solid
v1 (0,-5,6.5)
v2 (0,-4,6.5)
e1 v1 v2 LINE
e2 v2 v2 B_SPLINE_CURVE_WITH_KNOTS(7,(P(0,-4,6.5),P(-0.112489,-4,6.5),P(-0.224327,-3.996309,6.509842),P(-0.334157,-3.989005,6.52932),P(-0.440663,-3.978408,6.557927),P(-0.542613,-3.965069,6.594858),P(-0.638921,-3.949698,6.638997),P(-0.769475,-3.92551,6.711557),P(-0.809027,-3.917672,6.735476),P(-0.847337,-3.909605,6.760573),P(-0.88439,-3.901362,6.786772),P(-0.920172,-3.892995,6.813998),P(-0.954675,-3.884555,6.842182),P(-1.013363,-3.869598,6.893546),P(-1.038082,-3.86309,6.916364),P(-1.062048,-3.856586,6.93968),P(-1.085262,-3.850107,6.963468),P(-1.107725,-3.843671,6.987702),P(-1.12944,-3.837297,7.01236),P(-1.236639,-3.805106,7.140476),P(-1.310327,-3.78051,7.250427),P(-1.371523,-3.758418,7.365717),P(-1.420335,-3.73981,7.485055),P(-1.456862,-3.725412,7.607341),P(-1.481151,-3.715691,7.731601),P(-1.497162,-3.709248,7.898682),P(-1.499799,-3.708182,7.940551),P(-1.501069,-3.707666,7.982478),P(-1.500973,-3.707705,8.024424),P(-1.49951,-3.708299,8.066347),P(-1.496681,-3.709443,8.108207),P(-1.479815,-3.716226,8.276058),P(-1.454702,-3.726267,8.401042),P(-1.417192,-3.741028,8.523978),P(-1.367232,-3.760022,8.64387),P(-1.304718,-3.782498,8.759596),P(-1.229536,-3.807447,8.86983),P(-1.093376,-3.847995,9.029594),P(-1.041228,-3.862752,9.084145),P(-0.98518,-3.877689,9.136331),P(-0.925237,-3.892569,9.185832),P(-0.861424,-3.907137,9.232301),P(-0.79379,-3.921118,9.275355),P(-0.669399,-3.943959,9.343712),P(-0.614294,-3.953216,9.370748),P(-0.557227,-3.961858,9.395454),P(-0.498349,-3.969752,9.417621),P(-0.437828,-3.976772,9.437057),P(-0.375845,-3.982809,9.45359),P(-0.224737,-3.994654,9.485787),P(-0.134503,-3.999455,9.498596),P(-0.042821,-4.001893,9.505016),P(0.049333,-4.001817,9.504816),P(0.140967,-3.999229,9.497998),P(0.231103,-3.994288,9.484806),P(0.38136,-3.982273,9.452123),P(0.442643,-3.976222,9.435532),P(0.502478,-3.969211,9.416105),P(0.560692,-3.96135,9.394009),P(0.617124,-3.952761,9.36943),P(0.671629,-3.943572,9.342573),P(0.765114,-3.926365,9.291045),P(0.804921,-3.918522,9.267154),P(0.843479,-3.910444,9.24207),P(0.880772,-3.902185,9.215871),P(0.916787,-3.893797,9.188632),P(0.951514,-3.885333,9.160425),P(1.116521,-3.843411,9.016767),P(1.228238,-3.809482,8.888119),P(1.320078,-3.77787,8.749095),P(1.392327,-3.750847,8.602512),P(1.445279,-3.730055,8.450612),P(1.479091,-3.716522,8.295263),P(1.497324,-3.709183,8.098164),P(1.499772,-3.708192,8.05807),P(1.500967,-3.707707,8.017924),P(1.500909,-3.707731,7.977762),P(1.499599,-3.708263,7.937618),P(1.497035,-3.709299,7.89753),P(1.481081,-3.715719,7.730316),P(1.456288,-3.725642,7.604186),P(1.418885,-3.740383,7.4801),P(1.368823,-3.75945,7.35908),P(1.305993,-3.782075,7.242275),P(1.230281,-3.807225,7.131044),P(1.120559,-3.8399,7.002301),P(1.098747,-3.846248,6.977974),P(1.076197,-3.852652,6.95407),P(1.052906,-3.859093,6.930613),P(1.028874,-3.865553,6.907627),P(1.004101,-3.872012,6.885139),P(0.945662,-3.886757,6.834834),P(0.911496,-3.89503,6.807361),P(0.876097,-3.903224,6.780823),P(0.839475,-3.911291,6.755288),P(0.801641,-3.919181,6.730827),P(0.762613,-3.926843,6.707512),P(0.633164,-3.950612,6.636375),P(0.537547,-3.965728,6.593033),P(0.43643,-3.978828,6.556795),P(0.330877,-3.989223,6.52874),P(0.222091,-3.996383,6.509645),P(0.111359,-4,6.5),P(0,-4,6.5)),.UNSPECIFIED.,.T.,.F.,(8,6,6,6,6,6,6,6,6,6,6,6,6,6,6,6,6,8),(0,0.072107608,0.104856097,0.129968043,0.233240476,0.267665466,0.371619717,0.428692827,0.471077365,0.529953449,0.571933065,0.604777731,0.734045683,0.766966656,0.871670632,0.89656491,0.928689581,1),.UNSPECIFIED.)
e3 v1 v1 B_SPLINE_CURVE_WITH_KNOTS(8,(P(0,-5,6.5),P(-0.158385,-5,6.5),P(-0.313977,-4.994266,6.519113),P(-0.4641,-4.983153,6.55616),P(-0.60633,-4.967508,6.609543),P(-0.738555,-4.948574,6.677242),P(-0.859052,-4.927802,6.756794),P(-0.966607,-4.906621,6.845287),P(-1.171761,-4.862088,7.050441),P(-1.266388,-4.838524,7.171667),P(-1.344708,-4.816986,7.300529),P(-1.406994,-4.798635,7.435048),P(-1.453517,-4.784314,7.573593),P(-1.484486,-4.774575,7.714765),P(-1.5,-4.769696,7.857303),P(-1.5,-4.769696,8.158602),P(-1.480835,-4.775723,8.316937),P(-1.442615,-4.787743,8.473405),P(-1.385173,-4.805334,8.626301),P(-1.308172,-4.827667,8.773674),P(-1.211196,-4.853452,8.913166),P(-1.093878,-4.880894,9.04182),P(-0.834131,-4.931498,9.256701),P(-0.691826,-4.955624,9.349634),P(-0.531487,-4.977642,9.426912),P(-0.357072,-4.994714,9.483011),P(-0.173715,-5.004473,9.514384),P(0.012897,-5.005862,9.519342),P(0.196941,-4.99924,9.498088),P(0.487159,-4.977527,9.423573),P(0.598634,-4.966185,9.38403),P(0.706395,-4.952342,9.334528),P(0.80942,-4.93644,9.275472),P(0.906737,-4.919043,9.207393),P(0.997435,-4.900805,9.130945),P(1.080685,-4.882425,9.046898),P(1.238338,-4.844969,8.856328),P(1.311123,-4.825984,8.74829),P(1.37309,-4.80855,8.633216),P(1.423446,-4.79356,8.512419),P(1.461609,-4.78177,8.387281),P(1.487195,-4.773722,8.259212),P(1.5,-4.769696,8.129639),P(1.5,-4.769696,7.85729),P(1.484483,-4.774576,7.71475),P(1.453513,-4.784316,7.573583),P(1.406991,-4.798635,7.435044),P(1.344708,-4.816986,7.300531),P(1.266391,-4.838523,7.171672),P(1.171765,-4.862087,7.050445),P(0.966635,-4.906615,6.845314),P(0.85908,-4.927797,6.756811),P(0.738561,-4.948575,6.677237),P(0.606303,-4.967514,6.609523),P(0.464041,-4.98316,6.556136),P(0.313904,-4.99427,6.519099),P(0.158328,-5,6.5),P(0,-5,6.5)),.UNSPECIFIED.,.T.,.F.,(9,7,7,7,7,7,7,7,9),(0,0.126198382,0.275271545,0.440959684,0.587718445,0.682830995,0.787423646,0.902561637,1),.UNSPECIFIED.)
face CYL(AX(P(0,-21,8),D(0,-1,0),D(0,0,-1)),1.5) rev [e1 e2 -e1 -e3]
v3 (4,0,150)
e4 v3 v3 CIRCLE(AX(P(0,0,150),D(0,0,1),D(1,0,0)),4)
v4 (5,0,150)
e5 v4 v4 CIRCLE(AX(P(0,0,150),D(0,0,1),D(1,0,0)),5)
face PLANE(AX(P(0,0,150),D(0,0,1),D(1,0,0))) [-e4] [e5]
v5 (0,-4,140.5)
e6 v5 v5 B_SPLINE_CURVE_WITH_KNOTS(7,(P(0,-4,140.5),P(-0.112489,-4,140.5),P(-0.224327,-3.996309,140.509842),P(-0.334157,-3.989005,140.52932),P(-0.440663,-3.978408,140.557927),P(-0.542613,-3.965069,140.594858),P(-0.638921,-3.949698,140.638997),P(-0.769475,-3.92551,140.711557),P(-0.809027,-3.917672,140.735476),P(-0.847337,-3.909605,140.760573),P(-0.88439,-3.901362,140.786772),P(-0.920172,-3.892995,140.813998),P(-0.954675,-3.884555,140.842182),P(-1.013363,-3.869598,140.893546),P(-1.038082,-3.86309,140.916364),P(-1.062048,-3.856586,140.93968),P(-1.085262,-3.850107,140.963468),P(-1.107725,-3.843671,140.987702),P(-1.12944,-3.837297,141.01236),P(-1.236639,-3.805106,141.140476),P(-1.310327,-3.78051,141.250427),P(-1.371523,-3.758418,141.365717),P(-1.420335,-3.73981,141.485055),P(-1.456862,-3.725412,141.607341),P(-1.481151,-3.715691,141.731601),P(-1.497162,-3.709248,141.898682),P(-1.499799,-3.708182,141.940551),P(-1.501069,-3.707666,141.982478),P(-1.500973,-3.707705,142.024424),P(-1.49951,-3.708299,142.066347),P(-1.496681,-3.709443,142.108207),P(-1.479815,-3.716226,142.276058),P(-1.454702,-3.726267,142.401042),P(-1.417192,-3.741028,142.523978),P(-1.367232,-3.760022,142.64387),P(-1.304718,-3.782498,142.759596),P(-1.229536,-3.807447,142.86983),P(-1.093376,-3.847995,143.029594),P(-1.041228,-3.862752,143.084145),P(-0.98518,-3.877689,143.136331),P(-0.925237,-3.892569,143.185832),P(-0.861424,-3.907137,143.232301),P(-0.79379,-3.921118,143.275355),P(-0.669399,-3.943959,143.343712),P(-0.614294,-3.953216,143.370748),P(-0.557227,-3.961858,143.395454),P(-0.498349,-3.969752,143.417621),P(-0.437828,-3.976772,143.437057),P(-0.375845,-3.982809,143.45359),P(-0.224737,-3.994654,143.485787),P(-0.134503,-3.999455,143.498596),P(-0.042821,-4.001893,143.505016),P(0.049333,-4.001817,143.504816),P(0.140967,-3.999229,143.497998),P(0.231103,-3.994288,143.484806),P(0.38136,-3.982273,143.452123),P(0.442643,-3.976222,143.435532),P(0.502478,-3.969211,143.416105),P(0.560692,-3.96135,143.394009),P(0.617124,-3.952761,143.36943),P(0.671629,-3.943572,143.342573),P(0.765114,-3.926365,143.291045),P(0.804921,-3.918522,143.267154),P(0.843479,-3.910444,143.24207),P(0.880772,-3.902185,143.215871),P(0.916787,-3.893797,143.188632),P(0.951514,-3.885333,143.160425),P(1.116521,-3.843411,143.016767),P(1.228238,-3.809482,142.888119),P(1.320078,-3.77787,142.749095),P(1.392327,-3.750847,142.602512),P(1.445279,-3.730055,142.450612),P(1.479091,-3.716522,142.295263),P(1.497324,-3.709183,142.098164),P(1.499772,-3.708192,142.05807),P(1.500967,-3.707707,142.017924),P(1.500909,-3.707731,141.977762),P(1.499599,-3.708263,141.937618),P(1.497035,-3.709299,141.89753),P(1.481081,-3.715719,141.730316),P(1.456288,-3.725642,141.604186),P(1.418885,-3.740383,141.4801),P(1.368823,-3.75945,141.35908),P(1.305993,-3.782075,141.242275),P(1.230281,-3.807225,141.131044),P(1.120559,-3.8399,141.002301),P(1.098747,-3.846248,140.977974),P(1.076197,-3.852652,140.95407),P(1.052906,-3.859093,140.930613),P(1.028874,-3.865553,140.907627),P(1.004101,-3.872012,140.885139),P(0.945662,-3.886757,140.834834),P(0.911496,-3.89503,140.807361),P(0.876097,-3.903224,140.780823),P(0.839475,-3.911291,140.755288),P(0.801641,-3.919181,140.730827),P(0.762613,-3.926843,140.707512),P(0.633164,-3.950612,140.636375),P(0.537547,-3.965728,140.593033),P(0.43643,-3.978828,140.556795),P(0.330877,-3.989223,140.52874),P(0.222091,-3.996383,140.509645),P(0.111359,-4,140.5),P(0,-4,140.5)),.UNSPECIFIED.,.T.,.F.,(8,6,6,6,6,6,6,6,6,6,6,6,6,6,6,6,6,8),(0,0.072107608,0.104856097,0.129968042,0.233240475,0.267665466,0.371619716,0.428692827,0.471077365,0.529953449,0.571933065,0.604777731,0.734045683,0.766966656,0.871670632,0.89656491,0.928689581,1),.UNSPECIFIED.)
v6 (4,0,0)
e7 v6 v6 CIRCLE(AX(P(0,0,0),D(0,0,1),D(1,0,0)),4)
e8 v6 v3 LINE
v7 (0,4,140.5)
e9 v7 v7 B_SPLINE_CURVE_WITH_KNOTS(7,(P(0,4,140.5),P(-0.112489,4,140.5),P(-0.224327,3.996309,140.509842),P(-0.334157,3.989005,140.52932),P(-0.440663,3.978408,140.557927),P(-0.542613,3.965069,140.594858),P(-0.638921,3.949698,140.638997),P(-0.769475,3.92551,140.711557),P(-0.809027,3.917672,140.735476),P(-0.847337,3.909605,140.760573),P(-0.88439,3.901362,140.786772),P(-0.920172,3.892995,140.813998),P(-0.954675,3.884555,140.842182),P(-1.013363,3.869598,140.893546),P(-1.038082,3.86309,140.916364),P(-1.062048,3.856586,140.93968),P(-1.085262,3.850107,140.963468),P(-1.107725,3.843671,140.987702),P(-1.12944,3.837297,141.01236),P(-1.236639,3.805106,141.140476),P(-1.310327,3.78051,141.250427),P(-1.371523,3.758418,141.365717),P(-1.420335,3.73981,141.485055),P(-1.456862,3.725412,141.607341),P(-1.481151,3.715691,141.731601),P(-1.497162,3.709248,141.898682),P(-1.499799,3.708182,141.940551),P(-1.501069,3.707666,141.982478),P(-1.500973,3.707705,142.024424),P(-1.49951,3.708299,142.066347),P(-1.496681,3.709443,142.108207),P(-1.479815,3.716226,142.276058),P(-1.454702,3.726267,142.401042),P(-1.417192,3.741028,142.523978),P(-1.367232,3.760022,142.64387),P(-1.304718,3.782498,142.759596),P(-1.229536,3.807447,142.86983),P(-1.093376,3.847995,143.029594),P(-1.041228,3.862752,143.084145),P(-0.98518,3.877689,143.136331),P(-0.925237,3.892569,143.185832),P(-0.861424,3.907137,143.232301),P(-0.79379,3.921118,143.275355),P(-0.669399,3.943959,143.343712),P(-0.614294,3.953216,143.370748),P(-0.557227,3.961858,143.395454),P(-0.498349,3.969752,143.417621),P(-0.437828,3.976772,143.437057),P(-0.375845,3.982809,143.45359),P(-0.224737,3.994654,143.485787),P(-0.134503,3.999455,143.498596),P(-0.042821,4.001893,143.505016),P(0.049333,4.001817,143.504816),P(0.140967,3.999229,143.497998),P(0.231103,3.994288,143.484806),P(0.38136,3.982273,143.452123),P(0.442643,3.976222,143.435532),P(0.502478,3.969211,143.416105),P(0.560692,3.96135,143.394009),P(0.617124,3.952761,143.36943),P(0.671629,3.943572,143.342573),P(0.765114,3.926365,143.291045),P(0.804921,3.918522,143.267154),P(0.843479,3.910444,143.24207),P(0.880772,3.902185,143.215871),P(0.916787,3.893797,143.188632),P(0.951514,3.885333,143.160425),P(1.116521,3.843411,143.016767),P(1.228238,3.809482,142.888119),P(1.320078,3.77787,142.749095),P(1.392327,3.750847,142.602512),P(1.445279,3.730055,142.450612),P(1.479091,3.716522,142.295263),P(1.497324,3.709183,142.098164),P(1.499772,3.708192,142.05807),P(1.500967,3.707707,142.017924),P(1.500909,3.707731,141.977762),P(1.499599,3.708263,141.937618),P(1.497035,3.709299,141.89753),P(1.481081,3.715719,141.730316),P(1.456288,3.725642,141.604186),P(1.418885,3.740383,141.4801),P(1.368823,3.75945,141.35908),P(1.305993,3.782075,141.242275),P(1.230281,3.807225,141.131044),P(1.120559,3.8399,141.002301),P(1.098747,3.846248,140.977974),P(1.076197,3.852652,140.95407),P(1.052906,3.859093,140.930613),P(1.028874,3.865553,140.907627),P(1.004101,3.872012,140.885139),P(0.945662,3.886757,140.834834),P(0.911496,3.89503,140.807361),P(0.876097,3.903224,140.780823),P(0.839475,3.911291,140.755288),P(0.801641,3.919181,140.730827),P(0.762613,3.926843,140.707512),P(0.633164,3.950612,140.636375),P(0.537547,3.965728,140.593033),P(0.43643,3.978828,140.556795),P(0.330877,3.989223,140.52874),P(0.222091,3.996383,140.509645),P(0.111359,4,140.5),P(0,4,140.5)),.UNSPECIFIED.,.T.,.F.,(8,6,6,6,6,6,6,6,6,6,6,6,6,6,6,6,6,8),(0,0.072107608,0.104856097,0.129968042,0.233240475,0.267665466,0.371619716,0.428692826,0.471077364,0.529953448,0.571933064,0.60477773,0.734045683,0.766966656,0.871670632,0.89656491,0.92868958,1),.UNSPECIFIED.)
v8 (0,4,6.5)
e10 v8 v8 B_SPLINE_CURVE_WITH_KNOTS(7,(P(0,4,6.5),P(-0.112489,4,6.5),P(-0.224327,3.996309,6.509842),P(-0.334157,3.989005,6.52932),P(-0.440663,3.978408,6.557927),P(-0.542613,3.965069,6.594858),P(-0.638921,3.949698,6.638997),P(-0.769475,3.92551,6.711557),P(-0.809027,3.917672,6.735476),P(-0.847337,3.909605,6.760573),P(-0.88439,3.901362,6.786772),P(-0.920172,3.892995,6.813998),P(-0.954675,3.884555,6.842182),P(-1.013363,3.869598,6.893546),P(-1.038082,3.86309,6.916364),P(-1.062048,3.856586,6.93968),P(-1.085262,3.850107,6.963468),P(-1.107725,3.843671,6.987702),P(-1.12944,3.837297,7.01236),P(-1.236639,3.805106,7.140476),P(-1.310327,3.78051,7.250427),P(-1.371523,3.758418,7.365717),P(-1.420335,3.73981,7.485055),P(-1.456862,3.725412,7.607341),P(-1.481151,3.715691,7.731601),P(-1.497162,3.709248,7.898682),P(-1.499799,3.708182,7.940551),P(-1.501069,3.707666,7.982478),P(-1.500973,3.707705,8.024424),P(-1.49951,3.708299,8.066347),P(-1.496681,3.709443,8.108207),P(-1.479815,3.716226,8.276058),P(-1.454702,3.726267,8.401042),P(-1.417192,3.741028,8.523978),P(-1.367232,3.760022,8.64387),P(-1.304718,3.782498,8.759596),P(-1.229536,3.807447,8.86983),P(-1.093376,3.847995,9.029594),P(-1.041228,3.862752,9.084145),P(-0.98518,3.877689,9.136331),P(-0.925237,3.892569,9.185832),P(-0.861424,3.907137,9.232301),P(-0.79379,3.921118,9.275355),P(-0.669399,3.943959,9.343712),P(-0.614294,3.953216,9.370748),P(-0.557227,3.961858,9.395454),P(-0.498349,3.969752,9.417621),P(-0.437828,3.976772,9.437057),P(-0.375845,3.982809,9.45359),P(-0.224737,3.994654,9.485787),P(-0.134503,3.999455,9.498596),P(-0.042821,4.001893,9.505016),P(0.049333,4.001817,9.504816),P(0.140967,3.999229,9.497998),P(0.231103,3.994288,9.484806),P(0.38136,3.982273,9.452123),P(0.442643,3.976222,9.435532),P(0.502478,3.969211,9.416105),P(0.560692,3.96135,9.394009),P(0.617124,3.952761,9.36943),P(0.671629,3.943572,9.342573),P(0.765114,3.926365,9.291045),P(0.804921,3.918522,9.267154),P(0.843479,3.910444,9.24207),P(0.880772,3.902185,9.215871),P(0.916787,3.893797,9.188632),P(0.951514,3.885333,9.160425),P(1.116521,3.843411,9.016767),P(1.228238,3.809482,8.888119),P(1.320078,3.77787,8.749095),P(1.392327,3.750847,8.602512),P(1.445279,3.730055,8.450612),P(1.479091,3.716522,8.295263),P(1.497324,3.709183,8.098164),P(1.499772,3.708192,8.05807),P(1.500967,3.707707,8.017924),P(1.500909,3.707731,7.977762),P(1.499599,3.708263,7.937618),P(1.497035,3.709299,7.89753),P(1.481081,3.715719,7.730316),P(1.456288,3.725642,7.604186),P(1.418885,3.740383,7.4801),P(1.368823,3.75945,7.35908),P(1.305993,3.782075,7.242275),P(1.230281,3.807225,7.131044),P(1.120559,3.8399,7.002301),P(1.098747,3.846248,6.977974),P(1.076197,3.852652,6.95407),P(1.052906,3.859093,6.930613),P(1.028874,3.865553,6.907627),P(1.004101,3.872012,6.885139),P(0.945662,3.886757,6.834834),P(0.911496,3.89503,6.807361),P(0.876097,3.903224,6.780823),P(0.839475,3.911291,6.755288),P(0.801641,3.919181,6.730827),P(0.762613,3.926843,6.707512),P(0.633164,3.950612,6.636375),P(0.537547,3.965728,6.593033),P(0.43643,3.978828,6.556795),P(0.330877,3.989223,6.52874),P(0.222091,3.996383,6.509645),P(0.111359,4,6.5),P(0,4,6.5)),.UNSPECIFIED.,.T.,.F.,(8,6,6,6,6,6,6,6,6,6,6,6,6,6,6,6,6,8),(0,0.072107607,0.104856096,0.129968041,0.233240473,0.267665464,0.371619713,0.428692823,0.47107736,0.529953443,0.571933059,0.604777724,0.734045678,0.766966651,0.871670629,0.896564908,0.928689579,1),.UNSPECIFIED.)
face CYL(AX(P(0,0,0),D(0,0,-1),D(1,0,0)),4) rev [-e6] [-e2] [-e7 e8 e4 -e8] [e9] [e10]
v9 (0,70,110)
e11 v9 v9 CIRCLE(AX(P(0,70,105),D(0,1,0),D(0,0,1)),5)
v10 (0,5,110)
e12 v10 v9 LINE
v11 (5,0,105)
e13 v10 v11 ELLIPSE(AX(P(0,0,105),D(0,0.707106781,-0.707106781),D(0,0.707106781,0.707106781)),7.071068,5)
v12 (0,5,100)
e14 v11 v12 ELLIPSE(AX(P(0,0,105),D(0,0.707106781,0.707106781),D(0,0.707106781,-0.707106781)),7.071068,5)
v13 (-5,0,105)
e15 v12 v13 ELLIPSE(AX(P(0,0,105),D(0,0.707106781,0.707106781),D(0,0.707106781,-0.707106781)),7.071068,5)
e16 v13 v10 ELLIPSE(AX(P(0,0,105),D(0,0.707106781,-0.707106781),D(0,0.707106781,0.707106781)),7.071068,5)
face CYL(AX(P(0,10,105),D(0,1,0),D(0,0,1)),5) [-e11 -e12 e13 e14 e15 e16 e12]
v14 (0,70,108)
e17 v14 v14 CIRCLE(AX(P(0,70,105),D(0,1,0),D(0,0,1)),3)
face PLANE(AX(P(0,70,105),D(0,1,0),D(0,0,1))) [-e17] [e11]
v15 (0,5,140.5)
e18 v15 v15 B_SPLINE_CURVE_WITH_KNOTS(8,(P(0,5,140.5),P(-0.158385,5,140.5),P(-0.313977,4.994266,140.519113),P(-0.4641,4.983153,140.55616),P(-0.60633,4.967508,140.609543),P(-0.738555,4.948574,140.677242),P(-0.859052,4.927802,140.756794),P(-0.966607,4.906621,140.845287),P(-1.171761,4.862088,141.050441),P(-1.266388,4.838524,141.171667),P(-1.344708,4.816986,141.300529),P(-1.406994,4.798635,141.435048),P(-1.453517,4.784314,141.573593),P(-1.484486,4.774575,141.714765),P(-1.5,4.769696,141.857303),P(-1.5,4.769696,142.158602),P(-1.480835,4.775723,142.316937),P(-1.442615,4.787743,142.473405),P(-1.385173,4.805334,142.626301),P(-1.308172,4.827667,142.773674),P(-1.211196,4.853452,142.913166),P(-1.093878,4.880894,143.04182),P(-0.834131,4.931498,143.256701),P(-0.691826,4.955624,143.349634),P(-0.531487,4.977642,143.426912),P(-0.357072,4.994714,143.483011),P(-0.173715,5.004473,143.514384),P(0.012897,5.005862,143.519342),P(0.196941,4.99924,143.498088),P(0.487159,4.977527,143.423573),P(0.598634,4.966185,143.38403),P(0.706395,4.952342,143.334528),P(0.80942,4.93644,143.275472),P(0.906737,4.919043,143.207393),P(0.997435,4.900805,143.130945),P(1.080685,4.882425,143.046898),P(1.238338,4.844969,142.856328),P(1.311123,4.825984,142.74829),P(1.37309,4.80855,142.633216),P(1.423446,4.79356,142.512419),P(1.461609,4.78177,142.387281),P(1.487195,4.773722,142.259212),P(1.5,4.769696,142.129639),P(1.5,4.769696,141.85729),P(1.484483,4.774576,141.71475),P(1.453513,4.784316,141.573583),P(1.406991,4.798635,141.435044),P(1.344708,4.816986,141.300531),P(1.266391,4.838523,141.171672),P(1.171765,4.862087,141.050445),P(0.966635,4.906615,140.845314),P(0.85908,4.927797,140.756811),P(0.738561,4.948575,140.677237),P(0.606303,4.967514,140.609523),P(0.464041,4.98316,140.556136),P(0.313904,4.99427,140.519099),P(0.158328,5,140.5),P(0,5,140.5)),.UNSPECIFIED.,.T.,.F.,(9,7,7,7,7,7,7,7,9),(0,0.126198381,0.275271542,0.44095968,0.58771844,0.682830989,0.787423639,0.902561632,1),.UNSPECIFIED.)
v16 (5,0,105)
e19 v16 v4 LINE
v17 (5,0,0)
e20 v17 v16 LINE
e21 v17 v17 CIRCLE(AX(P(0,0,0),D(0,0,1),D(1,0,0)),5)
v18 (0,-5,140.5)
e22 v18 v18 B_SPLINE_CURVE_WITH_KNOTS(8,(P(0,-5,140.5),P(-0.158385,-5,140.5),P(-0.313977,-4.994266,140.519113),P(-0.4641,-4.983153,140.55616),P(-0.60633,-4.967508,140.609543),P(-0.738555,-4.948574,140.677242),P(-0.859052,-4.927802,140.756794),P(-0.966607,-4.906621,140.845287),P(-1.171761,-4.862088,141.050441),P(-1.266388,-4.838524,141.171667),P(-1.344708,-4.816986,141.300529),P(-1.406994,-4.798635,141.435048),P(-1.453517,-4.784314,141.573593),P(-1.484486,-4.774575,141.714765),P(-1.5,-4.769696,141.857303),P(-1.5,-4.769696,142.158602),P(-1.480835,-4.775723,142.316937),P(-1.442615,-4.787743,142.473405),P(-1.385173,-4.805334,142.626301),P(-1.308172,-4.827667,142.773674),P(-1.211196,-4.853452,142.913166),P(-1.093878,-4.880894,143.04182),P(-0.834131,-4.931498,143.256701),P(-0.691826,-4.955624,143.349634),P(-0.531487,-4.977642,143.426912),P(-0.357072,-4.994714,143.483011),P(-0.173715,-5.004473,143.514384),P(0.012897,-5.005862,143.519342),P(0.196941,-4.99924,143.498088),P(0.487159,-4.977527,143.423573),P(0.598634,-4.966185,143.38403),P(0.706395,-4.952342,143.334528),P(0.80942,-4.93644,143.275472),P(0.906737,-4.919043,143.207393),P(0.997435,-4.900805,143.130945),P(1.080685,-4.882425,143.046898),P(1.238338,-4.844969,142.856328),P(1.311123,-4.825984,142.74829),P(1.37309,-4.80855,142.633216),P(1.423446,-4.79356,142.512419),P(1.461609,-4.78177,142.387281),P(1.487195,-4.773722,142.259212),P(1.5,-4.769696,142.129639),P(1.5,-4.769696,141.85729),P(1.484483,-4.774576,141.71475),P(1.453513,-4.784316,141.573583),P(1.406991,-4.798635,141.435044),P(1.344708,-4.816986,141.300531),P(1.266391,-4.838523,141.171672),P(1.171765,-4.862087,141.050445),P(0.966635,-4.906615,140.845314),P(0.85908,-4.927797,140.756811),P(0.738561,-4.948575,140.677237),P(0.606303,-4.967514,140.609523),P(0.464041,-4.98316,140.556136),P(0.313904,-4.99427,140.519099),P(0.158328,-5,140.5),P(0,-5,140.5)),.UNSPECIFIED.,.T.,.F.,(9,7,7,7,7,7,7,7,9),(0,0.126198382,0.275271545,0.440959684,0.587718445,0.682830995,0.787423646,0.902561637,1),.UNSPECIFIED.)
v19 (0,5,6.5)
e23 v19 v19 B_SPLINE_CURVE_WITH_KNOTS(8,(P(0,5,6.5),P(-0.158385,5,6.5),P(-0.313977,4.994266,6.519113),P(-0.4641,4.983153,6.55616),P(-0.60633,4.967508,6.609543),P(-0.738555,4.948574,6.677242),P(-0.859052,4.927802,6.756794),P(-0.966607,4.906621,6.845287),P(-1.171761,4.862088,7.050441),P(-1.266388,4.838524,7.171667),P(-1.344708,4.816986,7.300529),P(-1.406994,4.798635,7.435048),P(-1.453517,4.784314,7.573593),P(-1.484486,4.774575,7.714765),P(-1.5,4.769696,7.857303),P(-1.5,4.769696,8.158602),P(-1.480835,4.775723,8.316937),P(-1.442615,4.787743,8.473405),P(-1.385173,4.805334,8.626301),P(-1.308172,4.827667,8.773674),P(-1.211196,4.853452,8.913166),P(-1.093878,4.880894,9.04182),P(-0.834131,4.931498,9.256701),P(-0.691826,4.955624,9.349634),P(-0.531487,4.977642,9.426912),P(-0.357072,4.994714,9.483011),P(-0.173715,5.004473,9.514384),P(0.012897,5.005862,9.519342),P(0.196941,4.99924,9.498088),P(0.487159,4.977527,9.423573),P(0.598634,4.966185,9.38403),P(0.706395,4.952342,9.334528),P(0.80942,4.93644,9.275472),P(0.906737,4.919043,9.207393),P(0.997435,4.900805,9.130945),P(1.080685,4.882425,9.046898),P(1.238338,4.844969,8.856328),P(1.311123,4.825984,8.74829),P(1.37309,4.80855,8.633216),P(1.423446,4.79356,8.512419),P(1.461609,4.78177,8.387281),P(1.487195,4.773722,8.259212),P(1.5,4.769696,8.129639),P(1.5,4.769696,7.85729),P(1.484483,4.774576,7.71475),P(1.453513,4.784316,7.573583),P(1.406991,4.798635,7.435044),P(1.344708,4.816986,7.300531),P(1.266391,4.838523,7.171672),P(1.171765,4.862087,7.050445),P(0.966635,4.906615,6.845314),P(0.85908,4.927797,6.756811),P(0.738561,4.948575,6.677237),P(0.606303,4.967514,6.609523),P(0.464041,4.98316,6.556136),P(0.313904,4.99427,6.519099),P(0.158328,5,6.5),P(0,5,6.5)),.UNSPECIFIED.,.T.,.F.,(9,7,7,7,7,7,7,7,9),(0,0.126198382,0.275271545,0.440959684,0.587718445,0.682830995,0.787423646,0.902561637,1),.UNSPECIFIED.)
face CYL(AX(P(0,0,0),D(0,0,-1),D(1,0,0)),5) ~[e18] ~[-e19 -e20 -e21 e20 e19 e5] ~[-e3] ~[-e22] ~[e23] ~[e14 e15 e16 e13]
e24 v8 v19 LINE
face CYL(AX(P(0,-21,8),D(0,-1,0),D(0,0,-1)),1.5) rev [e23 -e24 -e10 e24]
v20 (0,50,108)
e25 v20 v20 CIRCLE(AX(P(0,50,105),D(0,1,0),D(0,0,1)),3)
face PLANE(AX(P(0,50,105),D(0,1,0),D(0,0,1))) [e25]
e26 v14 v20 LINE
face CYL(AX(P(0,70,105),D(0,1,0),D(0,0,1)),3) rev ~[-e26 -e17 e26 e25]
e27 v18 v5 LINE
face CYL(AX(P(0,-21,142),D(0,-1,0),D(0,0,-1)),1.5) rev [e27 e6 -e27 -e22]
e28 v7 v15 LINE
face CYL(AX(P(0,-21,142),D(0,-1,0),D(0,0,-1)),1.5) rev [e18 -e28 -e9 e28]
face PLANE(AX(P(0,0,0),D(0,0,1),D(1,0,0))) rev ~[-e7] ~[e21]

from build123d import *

# Parameters (mm, degrees)
SKETCH1_R                            = 5
SKETCH1_R_2                          = 4
BOSS_EXTRUDE1_DEPTH                  = 150
CUT_EXTRUDE1_DEPTH                   = 21
CUT_EXTRUDE1_DEPTH_BACK              = 21
SKETCH2_R                            = 1.5
BOSS_EXTRUDE2_START                  = 10
SKETCH3_R                            = 5
BOSS_EXTRUDE2_DEPTH                  = 60
BOSS_EXTRUDE2_DIRECTION_2_REACH      = 162.167
BOSS_EXTRUDE2_DIRECTION_2_END_RADIUS = 5
SKETCH4_R                            = 3
CUT_EXTRUDE2_DEPTH                   = 20


with BuildPart() as part:
    # Sketch1 → Boss-Extrude1 (new body)
    with BuildSketch(Plane.XY):
        Circle(SKETCH1_R)
        Circle(SKETCH1_R_2, mode=Mode.SUBTRACT)
    extrude(amount=BOSS_EXTRUDE1_DEPTH)

    # Sketch2 → Cut-Extrude1 (cut, two sides: drawn at the far end of the back side and taken through both)
    with BuildSketch(Plane(origin=(0, 0, 0), x_dir=(1, 0, 0), z_dir=(0, 1, 0)).offset(-CUT_EXTRUDE1_DEPTH_BACK)):
        with Locations((0, -142)):
            Circle(SKETCH2_R)
        with Locations((0, -8)):
            Circle(SKETCH2_R)
    extrude(amount=CUT_EXTRUDE1_DEPTH + CUT_EXTRUDE1_DEPTH_BACK, mode=Mode.SUBTRACT)

    # Sketch3 → Boss-Extrude2 (add)
    with BuildSketch(Plane(origin=(0, 0, 0), x_dir=(1, 0, 0), z_dir=(0, 1, 0)).offset(BOSS_EXTRUDE2_START)):
        with Locations((0, -105)):
            Circle(SKETCH3_R)
    extrude(amount=BOSS_EXTRUDE2_DEPTH)

    # Boss-Extrude2 direction 2: up to this cylinder (the profile starts outside it)
    boss_extrude2_direction_2_end = Plane(origin=(0, 0, 105), z_dir=(0, 0, -1)) * Cylinder(BOSS_EXTRUDE2_DIRECTION_2_END_RADIUS, 335.334, mode=Mode.PRIVATE)
    # Sketch3 → Boss-Extrude2 direction 2 (add, up to the surface)
    with BuildSketch(Plane(origin=(0, 0, 0), x_dir=(1, 0, 0), z_dir=(0, 1, 0)).offset(BOSS_EXTRUDE2_START), mode=Mode.PRIVATE) as boss_extrude2_direction_2_sk1:
        with Locations((0, -105)):
            Circle(SKETCH3_R)
    boss_extrude2_direction_2_tool1 = extrude(boss_extrude2_direction_2_sk1.sketch, amount=-BOSS_EXTRUDE2_DIRECTION_2_REACH, mode=Mode.PRIVATE) - boss_extrude2_direction_2_end
    add(boss_extrude2_direction_2_tool1.solids().sort_by_distance((0, 10, 105))[0])

    # Sketch4 → Cut-Extrude2 (cut)
    with BuildSketch(Plane(origin=(0, 70, 0), x_dir=(1, 0, 0), z_dir=(0, 1, 0))):
        with Locations((0, -105)):
            Circle(SKETCH4_R)
    extrude(amount=-CUT_EXTRUDE2_DEPTH, mode=Mode.SUBTRACT)


solid = part.part
